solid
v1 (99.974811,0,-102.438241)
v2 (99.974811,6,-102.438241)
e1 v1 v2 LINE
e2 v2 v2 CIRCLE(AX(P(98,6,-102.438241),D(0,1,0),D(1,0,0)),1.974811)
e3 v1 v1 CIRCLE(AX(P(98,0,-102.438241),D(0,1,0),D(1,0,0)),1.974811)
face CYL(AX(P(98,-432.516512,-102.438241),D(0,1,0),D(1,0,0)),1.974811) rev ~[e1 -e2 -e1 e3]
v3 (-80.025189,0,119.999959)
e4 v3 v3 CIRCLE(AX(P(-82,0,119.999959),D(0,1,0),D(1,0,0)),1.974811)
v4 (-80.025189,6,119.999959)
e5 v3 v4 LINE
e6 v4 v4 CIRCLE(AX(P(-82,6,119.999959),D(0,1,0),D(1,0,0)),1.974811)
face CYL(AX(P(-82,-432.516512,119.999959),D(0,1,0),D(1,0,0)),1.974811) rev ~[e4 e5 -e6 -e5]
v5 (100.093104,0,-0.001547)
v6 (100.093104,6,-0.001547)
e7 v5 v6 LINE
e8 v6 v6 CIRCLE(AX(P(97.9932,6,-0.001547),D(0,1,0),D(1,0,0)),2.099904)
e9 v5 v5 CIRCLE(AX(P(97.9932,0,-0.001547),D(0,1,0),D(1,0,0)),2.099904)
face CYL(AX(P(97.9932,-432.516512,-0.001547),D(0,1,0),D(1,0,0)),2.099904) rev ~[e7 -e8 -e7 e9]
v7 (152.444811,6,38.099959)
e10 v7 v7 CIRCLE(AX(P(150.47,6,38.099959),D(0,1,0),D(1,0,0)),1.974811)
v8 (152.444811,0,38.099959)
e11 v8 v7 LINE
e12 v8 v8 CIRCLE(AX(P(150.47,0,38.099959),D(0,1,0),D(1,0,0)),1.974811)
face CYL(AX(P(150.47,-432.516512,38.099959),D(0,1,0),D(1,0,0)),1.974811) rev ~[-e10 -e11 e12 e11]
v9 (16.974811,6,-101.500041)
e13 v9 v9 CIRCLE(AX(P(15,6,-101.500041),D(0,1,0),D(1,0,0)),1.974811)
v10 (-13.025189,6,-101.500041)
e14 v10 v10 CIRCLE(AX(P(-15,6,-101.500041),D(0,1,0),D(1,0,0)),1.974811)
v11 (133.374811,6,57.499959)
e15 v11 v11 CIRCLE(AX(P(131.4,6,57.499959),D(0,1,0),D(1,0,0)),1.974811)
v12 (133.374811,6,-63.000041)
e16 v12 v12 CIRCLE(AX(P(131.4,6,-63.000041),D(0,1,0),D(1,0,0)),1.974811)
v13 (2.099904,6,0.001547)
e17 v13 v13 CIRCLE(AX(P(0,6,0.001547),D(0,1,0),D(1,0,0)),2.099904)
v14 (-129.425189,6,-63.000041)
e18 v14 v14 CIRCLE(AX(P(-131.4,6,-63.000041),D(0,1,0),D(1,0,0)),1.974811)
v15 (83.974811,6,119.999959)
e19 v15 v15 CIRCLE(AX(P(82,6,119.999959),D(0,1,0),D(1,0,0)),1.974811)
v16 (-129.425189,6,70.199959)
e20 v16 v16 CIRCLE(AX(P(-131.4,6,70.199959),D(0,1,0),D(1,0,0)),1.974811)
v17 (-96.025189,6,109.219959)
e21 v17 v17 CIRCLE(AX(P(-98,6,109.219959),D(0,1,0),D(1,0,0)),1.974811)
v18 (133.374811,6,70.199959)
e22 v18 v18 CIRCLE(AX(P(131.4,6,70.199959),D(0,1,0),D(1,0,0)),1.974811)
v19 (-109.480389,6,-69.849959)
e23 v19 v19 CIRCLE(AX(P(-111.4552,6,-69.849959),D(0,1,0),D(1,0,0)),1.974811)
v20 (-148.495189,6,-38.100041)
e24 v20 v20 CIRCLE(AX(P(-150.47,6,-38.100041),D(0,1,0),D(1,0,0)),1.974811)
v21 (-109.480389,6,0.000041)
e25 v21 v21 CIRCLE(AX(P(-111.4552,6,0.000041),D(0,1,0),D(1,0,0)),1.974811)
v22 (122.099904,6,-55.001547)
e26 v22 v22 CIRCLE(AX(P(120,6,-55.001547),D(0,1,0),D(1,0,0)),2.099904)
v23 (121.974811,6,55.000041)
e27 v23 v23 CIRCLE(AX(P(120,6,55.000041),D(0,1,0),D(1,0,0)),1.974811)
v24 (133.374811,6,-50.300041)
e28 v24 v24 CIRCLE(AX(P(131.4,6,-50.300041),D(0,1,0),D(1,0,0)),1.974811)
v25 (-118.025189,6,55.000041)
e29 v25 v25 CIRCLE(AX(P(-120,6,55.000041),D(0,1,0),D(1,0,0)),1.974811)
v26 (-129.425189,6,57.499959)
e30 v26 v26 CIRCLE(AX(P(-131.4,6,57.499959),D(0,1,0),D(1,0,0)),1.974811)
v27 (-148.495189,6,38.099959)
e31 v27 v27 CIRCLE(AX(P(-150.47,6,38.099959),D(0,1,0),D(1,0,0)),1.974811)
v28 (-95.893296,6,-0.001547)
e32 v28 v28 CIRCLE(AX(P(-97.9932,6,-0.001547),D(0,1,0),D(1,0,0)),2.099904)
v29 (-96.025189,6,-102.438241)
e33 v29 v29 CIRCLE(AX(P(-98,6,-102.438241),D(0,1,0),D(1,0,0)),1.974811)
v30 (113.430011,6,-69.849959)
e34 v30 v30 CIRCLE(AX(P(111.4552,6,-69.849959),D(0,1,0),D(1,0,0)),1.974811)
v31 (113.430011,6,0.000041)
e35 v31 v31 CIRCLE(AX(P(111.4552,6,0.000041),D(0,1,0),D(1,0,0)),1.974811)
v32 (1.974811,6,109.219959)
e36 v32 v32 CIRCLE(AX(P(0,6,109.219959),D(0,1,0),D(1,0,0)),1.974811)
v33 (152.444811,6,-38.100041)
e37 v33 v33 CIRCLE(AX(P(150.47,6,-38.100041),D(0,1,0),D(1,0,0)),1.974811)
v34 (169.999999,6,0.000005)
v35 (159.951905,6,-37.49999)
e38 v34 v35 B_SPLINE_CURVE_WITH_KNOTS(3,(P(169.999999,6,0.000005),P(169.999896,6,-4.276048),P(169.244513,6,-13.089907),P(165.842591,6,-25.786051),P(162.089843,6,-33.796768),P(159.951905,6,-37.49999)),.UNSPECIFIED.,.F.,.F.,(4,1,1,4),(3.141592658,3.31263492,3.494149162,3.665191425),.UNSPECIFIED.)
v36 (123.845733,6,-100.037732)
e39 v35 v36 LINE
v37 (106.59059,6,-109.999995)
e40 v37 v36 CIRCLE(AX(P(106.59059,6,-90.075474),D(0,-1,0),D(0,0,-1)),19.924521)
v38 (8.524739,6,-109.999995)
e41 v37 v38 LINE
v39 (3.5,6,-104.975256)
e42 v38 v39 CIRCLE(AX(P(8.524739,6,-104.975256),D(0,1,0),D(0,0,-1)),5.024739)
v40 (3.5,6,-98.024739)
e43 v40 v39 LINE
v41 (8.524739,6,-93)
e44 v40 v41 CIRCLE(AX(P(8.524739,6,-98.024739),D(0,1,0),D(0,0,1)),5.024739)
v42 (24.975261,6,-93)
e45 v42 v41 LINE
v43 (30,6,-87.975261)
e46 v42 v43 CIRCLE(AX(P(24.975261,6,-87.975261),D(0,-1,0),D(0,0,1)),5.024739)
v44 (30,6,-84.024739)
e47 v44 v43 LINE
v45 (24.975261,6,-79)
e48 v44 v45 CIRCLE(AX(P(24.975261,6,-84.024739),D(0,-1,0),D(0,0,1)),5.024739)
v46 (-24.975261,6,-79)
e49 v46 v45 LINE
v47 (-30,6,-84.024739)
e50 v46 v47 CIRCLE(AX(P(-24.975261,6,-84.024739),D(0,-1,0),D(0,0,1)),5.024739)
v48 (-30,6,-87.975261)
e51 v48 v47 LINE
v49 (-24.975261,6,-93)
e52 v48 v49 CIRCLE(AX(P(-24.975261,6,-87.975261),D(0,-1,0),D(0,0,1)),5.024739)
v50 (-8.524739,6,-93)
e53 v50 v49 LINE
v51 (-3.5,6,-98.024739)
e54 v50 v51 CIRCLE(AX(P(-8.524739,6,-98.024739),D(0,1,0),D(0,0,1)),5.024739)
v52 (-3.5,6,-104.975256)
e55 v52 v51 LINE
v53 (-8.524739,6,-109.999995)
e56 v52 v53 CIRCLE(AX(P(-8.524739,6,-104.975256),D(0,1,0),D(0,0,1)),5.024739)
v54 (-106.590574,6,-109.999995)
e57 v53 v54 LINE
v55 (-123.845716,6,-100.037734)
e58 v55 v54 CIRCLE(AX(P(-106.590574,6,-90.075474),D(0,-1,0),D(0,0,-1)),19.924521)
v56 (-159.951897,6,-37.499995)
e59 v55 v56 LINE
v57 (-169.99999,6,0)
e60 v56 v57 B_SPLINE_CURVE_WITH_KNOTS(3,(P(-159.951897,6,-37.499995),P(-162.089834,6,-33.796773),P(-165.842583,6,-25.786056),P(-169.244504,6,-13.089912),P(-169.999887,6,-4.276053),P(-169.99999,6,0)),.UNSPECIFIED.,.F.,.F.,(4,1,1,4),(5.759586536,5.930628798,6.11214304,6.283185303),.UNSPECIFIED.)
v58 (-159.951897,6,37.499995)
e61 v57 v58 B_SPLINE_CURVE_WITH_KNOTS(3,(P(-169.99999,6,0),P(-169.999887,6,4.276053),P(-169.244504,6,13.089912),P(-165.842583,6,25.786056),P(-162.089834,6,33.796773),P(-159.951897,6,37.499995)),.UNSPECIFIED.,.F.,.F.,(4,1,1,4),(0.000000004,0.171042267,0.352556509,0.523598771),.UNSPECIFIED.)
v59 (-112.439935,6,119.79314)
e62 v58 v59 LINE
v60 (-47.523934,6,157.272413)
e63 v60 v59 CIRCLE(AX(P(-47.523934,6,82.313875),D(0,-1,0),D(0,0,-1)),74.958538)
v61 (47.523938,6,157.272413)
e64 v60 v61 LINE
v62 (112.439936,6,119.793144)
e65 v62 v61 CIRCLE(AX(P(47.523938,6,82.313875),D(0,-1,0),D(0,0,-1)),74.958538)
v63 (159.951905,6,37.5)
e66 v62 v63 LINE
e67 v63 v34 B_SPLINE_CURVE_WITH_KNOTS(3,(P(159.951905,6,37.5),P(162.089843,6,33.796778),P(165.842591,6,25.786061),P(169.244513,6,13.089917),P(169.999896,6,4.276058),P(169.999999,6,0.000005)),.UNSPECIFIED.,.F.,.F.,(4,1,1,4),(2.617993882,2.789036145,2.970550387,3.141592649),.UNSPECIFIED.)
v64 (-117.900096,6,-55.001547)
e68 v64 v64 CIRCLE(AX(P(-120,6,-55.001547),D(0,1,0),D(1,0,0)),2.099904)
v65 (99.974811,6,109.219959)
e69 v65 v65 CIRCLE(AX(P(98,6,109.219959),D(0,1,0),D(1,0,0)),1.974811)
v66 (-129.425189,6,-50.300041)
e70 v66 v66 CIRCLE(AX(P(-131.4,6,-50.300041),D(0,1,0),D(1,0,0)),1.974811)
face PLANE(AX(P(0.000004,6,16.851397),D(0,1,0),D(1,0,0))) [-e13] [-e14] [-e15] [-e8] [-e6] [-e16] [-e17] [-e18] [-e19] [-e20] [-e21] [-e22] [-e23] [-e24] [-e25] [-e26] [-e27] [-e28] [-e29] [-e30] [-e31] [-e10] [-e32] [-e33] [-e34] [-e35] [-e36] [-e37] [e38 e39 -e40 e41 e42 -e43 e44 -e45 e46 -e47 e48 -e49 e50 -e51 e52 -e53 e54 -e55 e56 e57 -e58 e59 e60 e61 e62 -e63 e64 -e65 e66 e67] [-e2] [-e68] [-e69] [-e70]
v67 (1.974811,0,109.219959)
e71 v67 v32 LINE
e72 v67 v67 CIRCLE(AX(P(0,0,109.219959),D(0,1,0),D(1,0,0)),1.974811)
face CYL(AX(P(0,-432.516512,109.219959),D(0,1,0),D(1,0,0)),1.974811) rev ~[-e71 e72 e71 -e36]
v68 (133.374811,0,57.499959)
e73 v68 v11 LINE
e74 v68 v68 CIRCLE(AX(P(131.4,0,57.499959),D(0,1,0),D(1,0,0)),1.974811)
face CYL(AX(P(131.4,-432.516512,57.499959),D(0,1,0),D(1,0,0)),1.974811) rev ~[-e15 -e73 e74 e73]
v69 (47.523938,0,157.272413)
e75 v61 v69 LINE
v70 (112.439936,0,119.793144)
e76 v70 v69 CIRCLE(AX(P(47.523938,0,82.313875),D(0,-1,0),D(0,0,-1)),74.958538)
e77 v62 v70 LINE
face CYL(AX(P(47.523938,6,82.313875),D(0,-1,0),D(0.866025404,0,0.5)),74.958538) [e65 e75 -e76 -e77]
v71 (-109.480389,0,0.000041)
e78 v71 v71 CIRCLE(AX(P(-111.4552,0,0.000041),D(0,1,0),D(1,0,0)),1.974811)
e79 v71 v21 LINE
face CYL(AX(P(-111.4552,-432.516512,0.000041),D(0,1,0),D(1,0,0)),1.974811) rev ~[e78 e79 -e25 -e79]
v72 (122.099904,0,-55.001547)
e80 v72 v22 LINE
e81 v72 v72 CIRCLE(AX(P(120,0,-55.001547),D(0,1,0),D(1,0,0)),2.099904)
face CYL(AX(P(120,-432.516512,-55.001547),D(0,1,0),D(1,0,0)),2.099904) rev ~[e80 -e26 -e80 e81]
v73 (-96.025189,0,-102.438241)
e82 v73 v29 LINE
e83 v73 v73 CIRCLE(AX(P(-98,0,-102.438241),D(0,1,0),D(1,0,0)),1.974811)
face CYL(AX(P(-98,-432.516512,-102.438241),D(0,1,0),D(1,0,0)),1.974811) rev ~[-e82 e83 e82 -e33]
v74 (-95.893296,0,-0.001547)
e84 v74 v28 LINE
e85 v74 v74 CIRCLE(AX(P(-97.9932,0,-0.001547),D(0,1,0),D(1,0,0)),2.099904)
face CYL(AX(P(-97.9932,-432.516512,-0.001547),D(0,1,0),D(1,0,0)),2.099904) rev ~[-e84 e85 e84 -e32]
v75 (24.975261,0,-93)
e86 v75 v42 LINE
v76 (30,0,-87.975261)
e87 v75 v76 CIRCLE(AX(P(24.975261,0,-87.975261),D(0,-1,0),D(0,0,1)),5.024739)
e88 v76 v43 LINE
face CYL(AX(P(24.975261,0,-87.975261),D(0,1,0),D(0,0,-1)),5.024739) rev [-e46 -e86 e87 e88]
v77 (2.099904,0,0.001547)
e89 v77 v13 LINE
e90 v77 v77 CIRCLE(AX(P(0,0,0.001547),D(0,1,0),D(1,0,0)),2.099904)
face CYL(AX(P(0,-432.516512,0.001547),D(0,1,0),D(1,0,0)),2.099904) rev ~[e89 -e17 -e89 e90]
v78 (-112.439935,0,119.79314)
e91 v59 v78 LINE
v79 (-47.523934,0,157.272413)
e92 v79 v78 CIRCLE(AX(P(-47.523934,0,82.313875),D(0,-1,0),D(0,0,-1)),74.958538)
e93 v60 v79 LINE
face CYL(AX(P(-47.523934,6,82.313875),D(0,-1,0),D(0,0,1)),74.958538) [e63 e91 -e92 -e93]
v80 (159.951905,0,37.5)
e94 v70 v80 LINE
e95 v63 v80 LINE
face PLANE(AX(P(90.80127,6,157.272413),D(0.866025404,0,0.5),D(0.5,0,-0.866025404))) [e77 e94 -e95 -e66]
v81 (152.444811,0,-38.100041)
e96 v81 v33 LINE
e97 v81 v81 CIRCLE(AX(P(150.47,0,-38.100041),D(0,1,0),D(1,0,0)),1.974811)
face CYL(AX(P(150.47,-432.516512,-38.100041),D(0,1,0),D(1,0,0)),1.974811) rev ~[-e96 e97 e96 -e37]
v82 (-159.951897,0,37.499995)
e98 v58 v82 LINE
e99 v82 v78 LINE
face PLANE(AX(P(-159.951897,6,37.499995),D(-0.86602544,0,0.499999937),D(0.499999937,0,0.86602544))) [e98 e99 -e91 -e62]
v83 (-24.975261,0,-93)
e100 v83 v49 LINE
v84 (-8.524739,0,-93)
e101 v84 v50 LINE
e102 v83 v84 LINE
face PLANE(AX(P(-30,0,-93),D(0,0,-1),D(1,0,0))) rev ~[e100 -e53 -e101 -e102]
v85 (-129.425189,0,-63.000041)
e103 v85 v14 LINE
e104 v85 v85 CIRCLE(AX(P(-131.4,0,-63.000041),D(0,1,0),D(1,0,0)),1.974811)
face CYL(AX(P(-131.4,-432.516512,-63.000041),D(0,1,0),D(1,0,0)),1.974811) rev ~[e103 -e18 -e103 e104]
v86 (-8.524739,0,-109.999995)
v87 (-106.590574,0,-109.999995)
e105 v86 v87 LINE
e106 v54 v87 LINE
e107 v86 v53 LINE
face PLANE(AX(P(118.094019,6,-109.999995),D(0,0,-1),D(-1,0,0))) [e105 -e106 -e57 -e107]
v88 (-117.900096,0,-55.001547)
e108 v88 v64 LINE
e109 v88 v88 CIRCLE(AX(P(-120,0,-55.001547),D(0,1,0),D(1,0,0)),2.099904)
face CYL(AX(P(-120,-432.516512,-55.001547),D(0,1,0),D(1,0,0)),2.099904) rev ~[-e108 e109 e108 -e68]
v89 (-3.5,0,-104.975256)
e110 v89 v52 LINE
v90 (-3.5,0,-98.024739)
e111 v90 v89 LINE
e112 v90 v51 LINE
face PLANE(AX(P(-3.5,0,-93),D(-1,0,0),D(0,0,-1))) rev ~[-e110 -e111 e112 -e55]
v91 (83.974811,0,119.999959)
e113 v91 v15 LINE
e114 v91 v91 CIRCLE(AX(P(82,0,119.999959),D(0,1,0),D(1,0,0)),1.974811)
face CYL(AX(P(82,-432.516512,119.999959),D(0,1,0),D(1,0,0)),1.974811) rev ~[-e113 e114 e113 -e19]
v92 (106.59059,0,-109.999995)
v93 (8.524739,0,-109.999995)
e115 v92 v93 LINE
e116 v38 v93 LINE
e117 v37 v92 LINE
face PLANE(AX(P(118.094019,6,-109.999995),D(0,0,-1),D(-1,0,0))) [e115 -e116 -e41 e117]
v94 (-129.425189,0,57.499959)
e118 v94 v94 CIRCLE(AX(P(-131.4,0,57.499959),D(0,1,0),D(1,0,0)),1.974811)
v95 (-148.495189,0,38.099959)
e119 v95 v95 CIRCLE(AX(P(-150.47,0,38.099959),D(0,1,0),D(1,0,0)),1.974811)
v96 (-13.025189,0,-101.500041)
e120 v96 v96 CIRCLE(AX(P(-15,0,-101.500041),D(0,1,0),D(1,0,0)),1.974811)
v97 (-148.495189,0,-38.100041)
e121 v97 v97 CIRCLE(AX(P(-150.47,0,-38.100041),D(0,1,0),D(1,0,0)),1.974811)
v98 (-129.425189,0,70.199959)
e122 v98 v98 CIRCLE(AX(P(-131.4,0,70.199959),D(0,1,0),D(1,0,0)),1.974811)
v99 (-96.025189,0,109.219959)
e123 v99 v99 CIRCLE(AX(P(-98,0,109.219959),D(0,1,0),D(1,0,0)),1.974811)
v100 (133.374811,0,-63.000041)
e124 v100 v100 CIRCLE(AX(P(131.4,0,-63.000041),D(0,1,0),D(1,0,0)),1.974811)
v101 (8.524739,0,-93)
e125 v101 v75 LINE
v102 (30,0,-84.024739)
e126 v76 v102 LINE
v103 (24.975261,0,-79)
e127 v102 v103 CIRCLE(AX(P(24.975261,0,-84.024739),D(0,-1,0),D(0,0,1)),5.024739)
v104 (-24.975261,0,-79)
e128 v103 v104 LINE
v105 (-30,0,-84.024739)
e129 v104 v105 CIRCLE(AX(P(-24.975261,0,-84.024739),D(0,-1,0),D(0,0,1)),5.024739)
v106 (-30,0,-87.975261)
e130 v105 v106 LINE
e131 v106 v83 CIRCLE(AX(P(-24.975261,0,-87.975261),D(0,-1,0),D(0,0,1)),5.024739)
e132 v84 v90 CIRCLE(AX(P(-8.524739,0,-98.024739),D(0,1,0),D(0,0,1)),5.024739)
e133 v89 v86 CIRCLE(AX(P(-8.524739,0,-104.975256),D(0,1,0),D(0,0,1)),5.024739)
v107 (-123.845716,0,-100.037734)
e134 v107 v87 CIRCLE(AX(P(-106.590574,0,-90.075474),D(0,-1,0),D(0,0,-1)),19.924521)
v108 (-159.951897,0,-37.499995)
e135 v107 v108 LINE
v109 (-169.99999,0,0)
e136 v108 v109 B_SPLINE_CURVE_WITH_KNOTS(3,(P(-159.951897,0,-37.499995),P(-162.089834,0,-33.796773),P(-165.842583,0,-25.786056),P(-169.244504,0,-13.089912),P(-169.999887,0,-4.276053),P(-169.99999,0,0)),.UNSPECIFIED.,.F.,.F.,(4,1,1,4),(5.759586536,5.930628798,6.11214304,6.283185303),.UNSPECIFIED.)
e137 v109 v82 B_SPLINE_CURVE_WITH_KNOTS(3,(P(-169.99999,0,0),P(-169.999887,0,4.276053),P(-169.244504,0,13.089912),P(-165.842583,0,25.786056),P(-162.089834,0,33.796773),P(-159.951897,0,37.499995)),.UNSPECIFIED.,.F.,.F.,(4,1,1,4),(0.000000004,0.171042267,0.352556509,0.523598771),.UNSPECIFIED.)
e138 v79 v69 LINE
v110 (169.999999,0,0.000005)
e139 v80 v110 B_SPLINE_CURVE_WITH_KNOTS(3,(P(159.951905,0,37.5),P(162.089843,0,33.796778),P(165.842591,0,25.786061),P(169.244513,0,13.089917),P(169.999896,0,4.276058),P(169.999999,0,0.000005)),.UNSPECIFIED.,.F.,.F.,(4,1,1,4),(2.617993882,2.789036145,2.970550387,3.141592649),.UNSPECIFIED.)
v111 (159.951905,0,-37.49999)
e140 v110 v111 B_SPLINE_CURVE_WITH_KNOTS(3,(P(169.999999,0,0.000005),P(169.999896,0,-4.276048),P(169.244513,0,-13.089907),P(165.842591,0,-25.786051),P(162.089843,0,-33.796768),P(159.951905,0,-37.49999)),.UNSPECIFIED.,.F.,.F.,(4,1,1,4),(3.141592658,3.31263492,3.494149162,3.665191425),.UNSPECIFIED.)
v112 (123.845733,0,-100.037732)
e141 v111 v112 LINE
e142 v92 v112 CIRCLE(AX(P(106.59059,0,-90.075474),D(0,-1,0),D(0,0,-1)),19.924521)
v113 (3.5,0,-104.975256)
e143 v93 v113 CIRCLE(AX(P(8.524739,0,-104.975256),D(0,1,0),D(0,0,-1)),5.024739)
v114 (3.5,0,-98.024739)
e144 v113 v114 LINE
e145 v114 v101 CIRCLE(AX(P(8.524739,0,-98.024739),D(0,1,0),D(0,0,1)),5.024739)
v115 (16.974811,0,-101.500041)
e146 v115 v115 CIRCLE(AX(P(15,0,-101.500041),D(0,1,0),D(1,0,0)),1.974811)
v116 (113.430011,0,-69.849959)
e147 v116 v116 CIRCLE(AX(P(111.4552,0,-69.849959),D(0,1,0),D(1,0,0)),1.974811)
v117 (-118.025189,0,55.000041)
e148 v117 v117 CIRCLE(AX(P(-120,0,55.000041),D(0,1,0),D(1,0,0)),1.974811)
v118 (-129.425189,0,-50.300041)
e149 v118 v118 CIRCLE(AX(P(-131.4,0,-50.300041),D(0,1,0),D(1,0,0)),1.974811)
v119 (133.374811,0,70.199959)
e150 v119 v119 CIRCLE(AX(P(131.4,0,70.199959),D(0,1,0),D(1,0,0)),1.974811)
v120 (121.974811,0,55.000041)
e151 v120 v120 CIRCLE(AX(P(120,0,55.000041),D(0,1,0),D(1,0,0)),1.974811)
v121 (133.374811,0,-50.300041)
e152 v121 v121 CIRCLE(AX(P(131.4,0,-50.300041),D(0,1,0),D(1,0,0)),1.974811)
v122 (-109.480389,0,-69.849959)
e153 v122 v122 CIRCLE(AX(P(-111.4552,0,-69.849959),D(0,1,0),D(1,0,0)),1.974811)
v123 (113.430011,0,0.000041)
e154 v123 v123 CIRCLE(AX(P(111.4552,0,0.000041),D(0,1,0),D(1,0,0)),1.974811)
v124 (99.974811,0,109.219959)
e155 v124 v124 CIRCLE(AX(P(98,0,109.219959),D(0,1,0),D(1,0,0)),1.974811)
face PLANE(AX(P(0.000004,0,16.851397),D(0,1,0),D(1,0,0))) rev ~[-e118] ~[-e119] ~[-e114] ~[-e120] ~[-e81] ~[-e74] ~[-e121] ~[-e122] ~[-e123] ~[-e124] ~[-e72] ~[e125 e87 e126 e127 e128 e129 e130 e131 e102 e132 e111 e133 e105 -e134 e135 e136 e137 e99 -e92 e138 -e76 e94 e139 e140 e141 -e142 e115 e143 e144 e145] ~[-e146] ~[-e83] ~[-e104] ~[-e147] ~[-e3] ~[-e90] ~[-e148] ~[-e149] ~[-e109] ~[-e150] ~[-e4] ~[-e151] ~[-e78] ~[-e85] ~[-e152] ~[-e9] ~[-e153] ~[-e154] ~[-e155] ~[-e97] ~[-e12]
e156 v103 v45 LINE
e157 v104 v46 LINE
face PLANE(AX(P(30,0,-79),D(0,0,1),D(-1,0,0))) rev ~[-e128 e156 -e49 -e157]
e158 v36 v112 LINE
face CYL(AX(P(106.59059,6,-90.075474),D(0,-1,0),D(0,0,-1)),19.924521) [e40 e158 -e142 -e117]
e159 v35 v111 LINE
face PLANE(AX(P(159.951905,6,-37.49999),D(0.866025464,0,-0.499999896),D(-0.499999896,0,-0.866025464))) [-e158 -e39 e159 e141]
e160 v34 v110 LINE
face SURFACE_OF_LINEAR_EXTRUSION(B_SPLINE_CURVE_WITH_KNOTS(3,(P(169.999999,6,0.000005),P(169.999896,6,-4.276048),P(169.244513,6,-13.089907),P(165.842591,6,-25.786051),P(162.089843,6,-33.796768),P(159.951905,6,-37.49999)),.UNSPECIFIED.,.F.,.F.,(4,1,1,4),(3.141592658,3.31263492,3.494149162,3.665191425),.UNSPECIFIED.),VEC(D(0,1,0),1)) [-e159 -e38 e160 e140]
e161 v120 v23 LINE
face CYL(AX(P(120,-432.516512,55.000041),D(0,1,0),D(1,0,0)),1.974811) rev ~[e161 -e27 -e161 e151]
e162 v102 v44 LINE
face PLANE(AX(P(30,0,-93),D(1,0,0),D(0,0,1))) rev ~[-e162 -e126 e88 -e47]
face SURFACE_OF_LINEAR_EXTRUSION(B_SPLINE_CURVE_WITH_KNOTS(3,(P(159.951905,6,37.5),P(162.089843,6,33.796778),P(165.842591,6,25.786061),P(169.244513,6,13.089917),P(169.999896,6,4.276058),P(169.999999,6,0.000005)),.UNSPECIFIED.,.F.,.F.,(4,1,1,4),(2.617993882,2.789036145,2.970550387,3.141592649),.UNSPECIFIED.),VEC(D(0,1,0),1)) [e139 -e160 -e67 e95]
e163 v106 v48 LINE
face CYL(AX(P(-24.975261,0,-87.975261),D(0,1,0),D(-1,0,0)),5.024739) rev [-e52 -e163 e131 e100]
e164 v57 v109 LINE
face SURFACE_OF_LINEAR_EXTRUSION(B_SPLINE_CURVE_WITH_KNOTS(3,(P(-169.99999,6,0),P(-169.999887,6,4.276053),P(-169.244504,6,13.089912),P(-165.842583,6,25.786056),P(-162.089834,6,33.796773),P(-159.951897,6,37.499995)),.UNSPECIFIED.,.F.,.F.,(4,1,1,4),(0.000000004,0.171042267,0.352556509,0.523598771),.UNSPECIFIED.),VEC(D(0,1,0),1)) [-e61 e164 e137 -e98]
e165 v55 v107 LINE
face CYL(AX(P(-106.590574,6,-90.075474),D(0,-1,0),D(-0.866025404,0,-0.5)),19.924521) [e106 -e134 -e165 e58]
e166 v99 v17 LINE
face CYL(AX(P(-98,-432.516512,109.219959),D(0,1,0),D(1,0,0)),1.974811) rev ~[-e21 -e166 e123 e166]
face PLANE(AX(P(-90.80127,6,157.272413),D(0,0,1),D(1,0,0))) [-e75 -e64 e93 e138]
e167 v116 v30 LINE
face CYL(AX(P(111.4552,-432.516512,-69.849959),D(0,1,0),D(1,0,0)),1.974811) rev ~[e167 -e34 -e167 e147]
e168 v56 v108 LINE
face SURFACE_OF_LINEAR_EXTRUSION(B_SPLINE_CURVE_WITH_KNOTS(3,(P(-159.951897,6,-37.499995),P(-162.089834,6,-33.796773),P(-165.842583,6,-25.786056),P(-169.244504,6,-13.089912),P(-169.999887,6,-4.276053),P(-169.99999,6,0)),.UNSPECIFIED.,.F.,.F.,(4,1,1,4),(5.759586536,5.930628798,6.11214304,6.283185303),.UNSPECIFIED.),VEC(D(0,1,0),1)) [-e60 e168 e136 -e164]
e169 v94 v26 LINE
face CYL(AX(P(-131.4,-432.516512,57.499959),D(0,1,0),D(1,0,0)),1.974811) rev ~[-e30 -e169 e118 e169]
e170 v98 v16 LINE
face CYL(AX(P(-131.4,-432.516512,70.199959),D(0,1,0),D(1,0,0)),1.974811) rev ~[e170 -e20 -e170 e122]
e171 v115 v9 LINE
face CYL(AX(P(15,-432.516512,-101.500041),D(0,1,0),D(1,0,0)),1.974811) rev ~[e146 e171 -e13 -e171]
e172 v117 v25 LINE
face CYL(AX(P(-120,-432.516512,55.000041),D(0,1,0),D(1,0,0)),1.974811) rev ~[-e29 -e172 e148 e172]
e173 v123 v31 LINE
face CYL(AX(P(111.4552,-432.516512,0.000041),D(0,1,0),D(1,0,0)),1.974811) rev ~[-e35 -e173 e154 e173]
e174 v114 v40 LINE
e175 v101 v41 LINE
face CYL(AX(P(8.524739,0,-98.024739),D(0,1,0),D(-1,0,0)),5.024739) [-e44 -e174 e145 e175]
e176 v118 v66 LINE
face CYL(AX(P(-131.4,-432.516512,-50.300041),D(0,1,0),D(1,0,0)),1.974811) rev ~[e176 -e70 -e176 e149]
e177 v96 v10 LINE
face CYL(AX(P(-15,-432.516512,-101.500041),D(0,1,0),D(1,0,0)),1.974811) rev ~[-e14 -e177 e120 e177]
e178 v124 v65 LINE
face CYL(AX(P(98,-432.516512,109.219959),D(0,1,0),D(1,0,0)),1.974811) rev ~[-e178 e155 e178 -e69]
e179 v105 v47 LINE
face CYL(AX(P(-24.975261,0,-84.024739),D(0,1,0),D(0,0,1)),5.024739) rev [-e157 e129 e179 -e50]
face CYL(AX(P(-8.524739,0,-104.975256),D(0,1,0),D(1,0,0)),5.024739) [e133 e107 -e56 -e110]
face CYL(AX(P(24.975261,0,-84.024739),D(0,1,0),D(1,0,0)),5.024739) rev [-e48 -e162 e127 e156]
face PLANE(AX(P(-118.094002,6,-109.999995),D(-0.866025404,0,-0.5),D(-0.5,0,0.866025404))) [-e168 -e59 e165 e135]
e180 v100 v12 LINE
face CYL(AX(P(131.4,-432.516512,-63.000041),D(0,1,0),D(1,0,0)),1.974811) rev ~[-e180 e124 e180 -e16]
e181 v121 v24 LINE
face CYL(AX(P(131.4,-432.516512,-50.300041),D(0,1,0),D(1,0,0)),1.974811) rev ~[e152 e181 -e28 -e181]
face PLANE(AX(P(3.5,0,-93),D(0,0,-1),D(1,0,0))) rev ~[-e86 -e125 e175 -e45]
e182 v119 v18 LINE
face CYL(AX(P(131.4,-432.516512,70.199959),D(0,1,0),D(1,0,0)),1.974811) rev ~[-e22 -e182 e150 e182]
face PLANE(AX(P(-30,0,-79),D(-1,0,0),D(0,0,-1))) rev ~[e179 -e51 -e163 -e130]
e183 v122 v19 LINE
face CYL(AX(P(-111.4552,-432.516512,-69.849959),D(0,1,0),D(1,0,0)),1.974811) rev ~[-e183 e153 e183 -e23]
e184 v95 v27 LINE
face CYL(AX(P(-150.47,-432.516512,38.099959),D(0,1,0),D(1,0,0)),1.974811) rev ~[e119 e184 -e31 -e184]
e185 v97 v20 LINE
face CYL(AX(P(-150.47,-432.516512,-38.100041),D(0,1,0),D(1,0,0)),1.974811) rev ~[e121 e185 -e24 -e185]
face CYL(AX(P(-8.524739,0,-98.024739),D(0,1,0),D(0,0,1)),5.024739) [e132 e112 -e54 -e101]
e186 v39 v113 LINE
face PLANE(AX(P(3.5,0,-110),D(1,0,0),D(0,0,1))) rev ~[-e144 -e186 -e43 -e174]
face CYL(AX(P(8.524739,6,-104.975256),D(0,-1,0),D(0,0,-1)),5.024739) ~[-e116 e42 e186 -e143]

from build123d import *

# Parameters (mm, degrees)
BOSS_EXTRUDE1_DEPTH    = 6
CUT_EXTRUDE1_DEPTH     = 232.669185723
M3_5_CLEARANCE_HOLE1_D = 4.199808185
M3_5_CLEARANCE_HOLE2_D = 3.949622561
FILLET1_R              = 5.024738629
FILLET2_R              = 19.924521471
FILLET3_R              = 74.958538247


with BuildPart() as part:
    # Sketch1 → Boss-Extrude1 (new body)
    with BuildSketch(Plane(origin=(0, 6, 0), x_dir=(1, 0, 0), z_dir=(0, 1, 0))):
        with BuildLine():
            Line((118.094019457, 109.999994984), (-118.094002078, 109.999994984))
            Line((-118.094002078, 109.999994984), (-159.951896595, 37.499994984))
            add(Edge.make_bspline(
                [(-159.951896595, 37.499994984), (-162.089834317, 33.796773054), (-165.842582605, 25.786056062), (-169.244504237, 13.08991169), (-169.999887381, 4.276053128), (-169.999989967, 0)],
                knots=[5.759586536, 5.759586536, 5.759586536, 5.759586536, 5.930628798, 6.11214304, 6.283185303, 6.283185303, 6.283185303, 6.283185303], degree=3))
            add(Edge.make_bspline(
                [(-169.999989967, 0), (-169.999887381, -4.276053128), (-169.244504237, -13.089911689), (-165.842582605, -25.786056062), (-162.089834317, -33.796773054), (-159.951896595, -37.499994984)],
                knots=[4e-09, 4e-09, 4e-09, 4e-09, 0.171042267, 0.352556509, 0.523598771, 0.523598771, 0.523598771, 0.523598771], degree=3))
            Line((-159.951896595, -37.499994984), (-90.801270189, -157.27241336))
            Line((-90.801270189, -157.27241336), (90.801270189, -157.27241336))
            Line((90.801270189, -157.27241336), (159.951905284, -37.5))
            add(Edge.make_bspline(
                [(159.951905284, -37.5), (162.089843006, -33.79677807), (165.842591294, -25.786061079), (169.244512926, -13.089916706), (169.99989607, -4.276058145), (169.999998656, -5.016e-06)],
                knots=[2.617993882, 2.617993882, 2.617993882, 2.617993882, 2.789036145, 2.970550387, 3.141592649, 3.141592649, 3.141592649, 3.141592649], degree=3))
            add(Edge.make_bspline(
                [(169.999998656, -5.016e-06), (169.99989607, 4.276048112), (169.244512926, 13.089906673), (165.842591294, 25.786051046), (162.089843006, 33.796768038), (159.951905284, 37.499989968)],
                knots=[3.141592658, 3.141592658, 3.141592658, 3.141592658, 3.31263492, 3.494149162, 3.665191425, 3.665191425, 3.665191425, 3.665191425], degree=3))
            Line((159.951905284, 37.499989968), (118.094019457, 109.999994984))
        make_face()
    extrude(amount=-BOSS_EXTRUDE1_DEPTH)

    # Sketch2 → Cut-Extrude1 (cut, through all)
    with BuildSketch(Plane.XZ):
        Polygon((3.5, -110), (3.5, -93), (30, -93), (30, -79), (-30, -79), (-30, -93), (-3.5, -93), (-3.5, -110), align=None)
    extrude(amount=-CUT_EXTRUDE1_DEPTH, mode=Mode.SUBTRACT)

    # M3.5 Clearance Hole1 (through all)
    with Locations(Plane(origin=(0, 0, 0), x_dir=(-1, 0, 0), z_dir=(0, -1, 0))):
        with Locations((0, -0.001547229), (-97.9932, 0.001547229), (97.9932, 0.001547229), (120, 55.001547229), (-120, 55.001547229)):
            Hole(M3_5_CLEARANCE_HOLE1_D / 2)

    # M3.5 Clearance Hole2 (through all)
    with Locations(Plane(origin=(0, 0, 0), x_dir=(-1, 0, 0), z_dir=(0, -1, 0))):
        with Locations((98, 102.43824134), (0, -109.21995866), (98, -109.21995866), (-98, -109.21995866), (111.4552, 69.84995866), (111.4552, -4.134e-05), (-111.4552, 69.84995866), (-111.4552, -4.134e-05), (-120, -55.00004134), (120, -55.00004134), (131.4, 50.30004134), (-131.4, 50.30004134), (131.4, -70.19995866), (-131.4, -70.19995866), (131.4, 63.00004134), (-131.4, 63.00004134), (131.4, -57.49995866), (-131.4, -57.49995866), (15, 101.50004134), (-98, 102.43824134), (-15, 101.50004134), (150.47, 38.10004134), (150.47, -38.09995866), (-150.47, 38.10004134), (-150.47, -38.09995866), (-82, -119.99995866), (82, -119.99995866)):
            Hole(M3_5_CLEARANCE_HOLE2_D / 2)

    # Fillet1
    fillet1_edges = [part.edges().sort_by_distance(p)[0] for p in [
        (-3.5, 3, -109.999994984),
        (-30, 3, -79),
        (30, 3, -79),
        (3.5, 3, -109.999994984),
        (-30, 3, -93),
        (-3.5, 3, -93),
        (30, 3, -93),
        (3.5, 3, -93),
    ]]
    fillet(fillet1_edges, radius=FILLET1_R)

    # Fillet2
    fillet2_edges = [part.edges().sort_by_distance(p)[0] for p in [
        (118.094019457, 3, -109.999994984),
        (-118.094002078, 3, -109.999994984),
    ]]
    fillet(fillet2_edges, radius=FILLET2_R)

    # Fillet3
    fillet3_edges = [part.edges().sort_by_distance(p)[0] for p in [
        (90.801270189, 3, 157.27241336),
        (-90.801270189, 3, 157.27241336),
    ]]
    fillet(fillet3_edges, radius=FILLET3_R)


solid = part.part
